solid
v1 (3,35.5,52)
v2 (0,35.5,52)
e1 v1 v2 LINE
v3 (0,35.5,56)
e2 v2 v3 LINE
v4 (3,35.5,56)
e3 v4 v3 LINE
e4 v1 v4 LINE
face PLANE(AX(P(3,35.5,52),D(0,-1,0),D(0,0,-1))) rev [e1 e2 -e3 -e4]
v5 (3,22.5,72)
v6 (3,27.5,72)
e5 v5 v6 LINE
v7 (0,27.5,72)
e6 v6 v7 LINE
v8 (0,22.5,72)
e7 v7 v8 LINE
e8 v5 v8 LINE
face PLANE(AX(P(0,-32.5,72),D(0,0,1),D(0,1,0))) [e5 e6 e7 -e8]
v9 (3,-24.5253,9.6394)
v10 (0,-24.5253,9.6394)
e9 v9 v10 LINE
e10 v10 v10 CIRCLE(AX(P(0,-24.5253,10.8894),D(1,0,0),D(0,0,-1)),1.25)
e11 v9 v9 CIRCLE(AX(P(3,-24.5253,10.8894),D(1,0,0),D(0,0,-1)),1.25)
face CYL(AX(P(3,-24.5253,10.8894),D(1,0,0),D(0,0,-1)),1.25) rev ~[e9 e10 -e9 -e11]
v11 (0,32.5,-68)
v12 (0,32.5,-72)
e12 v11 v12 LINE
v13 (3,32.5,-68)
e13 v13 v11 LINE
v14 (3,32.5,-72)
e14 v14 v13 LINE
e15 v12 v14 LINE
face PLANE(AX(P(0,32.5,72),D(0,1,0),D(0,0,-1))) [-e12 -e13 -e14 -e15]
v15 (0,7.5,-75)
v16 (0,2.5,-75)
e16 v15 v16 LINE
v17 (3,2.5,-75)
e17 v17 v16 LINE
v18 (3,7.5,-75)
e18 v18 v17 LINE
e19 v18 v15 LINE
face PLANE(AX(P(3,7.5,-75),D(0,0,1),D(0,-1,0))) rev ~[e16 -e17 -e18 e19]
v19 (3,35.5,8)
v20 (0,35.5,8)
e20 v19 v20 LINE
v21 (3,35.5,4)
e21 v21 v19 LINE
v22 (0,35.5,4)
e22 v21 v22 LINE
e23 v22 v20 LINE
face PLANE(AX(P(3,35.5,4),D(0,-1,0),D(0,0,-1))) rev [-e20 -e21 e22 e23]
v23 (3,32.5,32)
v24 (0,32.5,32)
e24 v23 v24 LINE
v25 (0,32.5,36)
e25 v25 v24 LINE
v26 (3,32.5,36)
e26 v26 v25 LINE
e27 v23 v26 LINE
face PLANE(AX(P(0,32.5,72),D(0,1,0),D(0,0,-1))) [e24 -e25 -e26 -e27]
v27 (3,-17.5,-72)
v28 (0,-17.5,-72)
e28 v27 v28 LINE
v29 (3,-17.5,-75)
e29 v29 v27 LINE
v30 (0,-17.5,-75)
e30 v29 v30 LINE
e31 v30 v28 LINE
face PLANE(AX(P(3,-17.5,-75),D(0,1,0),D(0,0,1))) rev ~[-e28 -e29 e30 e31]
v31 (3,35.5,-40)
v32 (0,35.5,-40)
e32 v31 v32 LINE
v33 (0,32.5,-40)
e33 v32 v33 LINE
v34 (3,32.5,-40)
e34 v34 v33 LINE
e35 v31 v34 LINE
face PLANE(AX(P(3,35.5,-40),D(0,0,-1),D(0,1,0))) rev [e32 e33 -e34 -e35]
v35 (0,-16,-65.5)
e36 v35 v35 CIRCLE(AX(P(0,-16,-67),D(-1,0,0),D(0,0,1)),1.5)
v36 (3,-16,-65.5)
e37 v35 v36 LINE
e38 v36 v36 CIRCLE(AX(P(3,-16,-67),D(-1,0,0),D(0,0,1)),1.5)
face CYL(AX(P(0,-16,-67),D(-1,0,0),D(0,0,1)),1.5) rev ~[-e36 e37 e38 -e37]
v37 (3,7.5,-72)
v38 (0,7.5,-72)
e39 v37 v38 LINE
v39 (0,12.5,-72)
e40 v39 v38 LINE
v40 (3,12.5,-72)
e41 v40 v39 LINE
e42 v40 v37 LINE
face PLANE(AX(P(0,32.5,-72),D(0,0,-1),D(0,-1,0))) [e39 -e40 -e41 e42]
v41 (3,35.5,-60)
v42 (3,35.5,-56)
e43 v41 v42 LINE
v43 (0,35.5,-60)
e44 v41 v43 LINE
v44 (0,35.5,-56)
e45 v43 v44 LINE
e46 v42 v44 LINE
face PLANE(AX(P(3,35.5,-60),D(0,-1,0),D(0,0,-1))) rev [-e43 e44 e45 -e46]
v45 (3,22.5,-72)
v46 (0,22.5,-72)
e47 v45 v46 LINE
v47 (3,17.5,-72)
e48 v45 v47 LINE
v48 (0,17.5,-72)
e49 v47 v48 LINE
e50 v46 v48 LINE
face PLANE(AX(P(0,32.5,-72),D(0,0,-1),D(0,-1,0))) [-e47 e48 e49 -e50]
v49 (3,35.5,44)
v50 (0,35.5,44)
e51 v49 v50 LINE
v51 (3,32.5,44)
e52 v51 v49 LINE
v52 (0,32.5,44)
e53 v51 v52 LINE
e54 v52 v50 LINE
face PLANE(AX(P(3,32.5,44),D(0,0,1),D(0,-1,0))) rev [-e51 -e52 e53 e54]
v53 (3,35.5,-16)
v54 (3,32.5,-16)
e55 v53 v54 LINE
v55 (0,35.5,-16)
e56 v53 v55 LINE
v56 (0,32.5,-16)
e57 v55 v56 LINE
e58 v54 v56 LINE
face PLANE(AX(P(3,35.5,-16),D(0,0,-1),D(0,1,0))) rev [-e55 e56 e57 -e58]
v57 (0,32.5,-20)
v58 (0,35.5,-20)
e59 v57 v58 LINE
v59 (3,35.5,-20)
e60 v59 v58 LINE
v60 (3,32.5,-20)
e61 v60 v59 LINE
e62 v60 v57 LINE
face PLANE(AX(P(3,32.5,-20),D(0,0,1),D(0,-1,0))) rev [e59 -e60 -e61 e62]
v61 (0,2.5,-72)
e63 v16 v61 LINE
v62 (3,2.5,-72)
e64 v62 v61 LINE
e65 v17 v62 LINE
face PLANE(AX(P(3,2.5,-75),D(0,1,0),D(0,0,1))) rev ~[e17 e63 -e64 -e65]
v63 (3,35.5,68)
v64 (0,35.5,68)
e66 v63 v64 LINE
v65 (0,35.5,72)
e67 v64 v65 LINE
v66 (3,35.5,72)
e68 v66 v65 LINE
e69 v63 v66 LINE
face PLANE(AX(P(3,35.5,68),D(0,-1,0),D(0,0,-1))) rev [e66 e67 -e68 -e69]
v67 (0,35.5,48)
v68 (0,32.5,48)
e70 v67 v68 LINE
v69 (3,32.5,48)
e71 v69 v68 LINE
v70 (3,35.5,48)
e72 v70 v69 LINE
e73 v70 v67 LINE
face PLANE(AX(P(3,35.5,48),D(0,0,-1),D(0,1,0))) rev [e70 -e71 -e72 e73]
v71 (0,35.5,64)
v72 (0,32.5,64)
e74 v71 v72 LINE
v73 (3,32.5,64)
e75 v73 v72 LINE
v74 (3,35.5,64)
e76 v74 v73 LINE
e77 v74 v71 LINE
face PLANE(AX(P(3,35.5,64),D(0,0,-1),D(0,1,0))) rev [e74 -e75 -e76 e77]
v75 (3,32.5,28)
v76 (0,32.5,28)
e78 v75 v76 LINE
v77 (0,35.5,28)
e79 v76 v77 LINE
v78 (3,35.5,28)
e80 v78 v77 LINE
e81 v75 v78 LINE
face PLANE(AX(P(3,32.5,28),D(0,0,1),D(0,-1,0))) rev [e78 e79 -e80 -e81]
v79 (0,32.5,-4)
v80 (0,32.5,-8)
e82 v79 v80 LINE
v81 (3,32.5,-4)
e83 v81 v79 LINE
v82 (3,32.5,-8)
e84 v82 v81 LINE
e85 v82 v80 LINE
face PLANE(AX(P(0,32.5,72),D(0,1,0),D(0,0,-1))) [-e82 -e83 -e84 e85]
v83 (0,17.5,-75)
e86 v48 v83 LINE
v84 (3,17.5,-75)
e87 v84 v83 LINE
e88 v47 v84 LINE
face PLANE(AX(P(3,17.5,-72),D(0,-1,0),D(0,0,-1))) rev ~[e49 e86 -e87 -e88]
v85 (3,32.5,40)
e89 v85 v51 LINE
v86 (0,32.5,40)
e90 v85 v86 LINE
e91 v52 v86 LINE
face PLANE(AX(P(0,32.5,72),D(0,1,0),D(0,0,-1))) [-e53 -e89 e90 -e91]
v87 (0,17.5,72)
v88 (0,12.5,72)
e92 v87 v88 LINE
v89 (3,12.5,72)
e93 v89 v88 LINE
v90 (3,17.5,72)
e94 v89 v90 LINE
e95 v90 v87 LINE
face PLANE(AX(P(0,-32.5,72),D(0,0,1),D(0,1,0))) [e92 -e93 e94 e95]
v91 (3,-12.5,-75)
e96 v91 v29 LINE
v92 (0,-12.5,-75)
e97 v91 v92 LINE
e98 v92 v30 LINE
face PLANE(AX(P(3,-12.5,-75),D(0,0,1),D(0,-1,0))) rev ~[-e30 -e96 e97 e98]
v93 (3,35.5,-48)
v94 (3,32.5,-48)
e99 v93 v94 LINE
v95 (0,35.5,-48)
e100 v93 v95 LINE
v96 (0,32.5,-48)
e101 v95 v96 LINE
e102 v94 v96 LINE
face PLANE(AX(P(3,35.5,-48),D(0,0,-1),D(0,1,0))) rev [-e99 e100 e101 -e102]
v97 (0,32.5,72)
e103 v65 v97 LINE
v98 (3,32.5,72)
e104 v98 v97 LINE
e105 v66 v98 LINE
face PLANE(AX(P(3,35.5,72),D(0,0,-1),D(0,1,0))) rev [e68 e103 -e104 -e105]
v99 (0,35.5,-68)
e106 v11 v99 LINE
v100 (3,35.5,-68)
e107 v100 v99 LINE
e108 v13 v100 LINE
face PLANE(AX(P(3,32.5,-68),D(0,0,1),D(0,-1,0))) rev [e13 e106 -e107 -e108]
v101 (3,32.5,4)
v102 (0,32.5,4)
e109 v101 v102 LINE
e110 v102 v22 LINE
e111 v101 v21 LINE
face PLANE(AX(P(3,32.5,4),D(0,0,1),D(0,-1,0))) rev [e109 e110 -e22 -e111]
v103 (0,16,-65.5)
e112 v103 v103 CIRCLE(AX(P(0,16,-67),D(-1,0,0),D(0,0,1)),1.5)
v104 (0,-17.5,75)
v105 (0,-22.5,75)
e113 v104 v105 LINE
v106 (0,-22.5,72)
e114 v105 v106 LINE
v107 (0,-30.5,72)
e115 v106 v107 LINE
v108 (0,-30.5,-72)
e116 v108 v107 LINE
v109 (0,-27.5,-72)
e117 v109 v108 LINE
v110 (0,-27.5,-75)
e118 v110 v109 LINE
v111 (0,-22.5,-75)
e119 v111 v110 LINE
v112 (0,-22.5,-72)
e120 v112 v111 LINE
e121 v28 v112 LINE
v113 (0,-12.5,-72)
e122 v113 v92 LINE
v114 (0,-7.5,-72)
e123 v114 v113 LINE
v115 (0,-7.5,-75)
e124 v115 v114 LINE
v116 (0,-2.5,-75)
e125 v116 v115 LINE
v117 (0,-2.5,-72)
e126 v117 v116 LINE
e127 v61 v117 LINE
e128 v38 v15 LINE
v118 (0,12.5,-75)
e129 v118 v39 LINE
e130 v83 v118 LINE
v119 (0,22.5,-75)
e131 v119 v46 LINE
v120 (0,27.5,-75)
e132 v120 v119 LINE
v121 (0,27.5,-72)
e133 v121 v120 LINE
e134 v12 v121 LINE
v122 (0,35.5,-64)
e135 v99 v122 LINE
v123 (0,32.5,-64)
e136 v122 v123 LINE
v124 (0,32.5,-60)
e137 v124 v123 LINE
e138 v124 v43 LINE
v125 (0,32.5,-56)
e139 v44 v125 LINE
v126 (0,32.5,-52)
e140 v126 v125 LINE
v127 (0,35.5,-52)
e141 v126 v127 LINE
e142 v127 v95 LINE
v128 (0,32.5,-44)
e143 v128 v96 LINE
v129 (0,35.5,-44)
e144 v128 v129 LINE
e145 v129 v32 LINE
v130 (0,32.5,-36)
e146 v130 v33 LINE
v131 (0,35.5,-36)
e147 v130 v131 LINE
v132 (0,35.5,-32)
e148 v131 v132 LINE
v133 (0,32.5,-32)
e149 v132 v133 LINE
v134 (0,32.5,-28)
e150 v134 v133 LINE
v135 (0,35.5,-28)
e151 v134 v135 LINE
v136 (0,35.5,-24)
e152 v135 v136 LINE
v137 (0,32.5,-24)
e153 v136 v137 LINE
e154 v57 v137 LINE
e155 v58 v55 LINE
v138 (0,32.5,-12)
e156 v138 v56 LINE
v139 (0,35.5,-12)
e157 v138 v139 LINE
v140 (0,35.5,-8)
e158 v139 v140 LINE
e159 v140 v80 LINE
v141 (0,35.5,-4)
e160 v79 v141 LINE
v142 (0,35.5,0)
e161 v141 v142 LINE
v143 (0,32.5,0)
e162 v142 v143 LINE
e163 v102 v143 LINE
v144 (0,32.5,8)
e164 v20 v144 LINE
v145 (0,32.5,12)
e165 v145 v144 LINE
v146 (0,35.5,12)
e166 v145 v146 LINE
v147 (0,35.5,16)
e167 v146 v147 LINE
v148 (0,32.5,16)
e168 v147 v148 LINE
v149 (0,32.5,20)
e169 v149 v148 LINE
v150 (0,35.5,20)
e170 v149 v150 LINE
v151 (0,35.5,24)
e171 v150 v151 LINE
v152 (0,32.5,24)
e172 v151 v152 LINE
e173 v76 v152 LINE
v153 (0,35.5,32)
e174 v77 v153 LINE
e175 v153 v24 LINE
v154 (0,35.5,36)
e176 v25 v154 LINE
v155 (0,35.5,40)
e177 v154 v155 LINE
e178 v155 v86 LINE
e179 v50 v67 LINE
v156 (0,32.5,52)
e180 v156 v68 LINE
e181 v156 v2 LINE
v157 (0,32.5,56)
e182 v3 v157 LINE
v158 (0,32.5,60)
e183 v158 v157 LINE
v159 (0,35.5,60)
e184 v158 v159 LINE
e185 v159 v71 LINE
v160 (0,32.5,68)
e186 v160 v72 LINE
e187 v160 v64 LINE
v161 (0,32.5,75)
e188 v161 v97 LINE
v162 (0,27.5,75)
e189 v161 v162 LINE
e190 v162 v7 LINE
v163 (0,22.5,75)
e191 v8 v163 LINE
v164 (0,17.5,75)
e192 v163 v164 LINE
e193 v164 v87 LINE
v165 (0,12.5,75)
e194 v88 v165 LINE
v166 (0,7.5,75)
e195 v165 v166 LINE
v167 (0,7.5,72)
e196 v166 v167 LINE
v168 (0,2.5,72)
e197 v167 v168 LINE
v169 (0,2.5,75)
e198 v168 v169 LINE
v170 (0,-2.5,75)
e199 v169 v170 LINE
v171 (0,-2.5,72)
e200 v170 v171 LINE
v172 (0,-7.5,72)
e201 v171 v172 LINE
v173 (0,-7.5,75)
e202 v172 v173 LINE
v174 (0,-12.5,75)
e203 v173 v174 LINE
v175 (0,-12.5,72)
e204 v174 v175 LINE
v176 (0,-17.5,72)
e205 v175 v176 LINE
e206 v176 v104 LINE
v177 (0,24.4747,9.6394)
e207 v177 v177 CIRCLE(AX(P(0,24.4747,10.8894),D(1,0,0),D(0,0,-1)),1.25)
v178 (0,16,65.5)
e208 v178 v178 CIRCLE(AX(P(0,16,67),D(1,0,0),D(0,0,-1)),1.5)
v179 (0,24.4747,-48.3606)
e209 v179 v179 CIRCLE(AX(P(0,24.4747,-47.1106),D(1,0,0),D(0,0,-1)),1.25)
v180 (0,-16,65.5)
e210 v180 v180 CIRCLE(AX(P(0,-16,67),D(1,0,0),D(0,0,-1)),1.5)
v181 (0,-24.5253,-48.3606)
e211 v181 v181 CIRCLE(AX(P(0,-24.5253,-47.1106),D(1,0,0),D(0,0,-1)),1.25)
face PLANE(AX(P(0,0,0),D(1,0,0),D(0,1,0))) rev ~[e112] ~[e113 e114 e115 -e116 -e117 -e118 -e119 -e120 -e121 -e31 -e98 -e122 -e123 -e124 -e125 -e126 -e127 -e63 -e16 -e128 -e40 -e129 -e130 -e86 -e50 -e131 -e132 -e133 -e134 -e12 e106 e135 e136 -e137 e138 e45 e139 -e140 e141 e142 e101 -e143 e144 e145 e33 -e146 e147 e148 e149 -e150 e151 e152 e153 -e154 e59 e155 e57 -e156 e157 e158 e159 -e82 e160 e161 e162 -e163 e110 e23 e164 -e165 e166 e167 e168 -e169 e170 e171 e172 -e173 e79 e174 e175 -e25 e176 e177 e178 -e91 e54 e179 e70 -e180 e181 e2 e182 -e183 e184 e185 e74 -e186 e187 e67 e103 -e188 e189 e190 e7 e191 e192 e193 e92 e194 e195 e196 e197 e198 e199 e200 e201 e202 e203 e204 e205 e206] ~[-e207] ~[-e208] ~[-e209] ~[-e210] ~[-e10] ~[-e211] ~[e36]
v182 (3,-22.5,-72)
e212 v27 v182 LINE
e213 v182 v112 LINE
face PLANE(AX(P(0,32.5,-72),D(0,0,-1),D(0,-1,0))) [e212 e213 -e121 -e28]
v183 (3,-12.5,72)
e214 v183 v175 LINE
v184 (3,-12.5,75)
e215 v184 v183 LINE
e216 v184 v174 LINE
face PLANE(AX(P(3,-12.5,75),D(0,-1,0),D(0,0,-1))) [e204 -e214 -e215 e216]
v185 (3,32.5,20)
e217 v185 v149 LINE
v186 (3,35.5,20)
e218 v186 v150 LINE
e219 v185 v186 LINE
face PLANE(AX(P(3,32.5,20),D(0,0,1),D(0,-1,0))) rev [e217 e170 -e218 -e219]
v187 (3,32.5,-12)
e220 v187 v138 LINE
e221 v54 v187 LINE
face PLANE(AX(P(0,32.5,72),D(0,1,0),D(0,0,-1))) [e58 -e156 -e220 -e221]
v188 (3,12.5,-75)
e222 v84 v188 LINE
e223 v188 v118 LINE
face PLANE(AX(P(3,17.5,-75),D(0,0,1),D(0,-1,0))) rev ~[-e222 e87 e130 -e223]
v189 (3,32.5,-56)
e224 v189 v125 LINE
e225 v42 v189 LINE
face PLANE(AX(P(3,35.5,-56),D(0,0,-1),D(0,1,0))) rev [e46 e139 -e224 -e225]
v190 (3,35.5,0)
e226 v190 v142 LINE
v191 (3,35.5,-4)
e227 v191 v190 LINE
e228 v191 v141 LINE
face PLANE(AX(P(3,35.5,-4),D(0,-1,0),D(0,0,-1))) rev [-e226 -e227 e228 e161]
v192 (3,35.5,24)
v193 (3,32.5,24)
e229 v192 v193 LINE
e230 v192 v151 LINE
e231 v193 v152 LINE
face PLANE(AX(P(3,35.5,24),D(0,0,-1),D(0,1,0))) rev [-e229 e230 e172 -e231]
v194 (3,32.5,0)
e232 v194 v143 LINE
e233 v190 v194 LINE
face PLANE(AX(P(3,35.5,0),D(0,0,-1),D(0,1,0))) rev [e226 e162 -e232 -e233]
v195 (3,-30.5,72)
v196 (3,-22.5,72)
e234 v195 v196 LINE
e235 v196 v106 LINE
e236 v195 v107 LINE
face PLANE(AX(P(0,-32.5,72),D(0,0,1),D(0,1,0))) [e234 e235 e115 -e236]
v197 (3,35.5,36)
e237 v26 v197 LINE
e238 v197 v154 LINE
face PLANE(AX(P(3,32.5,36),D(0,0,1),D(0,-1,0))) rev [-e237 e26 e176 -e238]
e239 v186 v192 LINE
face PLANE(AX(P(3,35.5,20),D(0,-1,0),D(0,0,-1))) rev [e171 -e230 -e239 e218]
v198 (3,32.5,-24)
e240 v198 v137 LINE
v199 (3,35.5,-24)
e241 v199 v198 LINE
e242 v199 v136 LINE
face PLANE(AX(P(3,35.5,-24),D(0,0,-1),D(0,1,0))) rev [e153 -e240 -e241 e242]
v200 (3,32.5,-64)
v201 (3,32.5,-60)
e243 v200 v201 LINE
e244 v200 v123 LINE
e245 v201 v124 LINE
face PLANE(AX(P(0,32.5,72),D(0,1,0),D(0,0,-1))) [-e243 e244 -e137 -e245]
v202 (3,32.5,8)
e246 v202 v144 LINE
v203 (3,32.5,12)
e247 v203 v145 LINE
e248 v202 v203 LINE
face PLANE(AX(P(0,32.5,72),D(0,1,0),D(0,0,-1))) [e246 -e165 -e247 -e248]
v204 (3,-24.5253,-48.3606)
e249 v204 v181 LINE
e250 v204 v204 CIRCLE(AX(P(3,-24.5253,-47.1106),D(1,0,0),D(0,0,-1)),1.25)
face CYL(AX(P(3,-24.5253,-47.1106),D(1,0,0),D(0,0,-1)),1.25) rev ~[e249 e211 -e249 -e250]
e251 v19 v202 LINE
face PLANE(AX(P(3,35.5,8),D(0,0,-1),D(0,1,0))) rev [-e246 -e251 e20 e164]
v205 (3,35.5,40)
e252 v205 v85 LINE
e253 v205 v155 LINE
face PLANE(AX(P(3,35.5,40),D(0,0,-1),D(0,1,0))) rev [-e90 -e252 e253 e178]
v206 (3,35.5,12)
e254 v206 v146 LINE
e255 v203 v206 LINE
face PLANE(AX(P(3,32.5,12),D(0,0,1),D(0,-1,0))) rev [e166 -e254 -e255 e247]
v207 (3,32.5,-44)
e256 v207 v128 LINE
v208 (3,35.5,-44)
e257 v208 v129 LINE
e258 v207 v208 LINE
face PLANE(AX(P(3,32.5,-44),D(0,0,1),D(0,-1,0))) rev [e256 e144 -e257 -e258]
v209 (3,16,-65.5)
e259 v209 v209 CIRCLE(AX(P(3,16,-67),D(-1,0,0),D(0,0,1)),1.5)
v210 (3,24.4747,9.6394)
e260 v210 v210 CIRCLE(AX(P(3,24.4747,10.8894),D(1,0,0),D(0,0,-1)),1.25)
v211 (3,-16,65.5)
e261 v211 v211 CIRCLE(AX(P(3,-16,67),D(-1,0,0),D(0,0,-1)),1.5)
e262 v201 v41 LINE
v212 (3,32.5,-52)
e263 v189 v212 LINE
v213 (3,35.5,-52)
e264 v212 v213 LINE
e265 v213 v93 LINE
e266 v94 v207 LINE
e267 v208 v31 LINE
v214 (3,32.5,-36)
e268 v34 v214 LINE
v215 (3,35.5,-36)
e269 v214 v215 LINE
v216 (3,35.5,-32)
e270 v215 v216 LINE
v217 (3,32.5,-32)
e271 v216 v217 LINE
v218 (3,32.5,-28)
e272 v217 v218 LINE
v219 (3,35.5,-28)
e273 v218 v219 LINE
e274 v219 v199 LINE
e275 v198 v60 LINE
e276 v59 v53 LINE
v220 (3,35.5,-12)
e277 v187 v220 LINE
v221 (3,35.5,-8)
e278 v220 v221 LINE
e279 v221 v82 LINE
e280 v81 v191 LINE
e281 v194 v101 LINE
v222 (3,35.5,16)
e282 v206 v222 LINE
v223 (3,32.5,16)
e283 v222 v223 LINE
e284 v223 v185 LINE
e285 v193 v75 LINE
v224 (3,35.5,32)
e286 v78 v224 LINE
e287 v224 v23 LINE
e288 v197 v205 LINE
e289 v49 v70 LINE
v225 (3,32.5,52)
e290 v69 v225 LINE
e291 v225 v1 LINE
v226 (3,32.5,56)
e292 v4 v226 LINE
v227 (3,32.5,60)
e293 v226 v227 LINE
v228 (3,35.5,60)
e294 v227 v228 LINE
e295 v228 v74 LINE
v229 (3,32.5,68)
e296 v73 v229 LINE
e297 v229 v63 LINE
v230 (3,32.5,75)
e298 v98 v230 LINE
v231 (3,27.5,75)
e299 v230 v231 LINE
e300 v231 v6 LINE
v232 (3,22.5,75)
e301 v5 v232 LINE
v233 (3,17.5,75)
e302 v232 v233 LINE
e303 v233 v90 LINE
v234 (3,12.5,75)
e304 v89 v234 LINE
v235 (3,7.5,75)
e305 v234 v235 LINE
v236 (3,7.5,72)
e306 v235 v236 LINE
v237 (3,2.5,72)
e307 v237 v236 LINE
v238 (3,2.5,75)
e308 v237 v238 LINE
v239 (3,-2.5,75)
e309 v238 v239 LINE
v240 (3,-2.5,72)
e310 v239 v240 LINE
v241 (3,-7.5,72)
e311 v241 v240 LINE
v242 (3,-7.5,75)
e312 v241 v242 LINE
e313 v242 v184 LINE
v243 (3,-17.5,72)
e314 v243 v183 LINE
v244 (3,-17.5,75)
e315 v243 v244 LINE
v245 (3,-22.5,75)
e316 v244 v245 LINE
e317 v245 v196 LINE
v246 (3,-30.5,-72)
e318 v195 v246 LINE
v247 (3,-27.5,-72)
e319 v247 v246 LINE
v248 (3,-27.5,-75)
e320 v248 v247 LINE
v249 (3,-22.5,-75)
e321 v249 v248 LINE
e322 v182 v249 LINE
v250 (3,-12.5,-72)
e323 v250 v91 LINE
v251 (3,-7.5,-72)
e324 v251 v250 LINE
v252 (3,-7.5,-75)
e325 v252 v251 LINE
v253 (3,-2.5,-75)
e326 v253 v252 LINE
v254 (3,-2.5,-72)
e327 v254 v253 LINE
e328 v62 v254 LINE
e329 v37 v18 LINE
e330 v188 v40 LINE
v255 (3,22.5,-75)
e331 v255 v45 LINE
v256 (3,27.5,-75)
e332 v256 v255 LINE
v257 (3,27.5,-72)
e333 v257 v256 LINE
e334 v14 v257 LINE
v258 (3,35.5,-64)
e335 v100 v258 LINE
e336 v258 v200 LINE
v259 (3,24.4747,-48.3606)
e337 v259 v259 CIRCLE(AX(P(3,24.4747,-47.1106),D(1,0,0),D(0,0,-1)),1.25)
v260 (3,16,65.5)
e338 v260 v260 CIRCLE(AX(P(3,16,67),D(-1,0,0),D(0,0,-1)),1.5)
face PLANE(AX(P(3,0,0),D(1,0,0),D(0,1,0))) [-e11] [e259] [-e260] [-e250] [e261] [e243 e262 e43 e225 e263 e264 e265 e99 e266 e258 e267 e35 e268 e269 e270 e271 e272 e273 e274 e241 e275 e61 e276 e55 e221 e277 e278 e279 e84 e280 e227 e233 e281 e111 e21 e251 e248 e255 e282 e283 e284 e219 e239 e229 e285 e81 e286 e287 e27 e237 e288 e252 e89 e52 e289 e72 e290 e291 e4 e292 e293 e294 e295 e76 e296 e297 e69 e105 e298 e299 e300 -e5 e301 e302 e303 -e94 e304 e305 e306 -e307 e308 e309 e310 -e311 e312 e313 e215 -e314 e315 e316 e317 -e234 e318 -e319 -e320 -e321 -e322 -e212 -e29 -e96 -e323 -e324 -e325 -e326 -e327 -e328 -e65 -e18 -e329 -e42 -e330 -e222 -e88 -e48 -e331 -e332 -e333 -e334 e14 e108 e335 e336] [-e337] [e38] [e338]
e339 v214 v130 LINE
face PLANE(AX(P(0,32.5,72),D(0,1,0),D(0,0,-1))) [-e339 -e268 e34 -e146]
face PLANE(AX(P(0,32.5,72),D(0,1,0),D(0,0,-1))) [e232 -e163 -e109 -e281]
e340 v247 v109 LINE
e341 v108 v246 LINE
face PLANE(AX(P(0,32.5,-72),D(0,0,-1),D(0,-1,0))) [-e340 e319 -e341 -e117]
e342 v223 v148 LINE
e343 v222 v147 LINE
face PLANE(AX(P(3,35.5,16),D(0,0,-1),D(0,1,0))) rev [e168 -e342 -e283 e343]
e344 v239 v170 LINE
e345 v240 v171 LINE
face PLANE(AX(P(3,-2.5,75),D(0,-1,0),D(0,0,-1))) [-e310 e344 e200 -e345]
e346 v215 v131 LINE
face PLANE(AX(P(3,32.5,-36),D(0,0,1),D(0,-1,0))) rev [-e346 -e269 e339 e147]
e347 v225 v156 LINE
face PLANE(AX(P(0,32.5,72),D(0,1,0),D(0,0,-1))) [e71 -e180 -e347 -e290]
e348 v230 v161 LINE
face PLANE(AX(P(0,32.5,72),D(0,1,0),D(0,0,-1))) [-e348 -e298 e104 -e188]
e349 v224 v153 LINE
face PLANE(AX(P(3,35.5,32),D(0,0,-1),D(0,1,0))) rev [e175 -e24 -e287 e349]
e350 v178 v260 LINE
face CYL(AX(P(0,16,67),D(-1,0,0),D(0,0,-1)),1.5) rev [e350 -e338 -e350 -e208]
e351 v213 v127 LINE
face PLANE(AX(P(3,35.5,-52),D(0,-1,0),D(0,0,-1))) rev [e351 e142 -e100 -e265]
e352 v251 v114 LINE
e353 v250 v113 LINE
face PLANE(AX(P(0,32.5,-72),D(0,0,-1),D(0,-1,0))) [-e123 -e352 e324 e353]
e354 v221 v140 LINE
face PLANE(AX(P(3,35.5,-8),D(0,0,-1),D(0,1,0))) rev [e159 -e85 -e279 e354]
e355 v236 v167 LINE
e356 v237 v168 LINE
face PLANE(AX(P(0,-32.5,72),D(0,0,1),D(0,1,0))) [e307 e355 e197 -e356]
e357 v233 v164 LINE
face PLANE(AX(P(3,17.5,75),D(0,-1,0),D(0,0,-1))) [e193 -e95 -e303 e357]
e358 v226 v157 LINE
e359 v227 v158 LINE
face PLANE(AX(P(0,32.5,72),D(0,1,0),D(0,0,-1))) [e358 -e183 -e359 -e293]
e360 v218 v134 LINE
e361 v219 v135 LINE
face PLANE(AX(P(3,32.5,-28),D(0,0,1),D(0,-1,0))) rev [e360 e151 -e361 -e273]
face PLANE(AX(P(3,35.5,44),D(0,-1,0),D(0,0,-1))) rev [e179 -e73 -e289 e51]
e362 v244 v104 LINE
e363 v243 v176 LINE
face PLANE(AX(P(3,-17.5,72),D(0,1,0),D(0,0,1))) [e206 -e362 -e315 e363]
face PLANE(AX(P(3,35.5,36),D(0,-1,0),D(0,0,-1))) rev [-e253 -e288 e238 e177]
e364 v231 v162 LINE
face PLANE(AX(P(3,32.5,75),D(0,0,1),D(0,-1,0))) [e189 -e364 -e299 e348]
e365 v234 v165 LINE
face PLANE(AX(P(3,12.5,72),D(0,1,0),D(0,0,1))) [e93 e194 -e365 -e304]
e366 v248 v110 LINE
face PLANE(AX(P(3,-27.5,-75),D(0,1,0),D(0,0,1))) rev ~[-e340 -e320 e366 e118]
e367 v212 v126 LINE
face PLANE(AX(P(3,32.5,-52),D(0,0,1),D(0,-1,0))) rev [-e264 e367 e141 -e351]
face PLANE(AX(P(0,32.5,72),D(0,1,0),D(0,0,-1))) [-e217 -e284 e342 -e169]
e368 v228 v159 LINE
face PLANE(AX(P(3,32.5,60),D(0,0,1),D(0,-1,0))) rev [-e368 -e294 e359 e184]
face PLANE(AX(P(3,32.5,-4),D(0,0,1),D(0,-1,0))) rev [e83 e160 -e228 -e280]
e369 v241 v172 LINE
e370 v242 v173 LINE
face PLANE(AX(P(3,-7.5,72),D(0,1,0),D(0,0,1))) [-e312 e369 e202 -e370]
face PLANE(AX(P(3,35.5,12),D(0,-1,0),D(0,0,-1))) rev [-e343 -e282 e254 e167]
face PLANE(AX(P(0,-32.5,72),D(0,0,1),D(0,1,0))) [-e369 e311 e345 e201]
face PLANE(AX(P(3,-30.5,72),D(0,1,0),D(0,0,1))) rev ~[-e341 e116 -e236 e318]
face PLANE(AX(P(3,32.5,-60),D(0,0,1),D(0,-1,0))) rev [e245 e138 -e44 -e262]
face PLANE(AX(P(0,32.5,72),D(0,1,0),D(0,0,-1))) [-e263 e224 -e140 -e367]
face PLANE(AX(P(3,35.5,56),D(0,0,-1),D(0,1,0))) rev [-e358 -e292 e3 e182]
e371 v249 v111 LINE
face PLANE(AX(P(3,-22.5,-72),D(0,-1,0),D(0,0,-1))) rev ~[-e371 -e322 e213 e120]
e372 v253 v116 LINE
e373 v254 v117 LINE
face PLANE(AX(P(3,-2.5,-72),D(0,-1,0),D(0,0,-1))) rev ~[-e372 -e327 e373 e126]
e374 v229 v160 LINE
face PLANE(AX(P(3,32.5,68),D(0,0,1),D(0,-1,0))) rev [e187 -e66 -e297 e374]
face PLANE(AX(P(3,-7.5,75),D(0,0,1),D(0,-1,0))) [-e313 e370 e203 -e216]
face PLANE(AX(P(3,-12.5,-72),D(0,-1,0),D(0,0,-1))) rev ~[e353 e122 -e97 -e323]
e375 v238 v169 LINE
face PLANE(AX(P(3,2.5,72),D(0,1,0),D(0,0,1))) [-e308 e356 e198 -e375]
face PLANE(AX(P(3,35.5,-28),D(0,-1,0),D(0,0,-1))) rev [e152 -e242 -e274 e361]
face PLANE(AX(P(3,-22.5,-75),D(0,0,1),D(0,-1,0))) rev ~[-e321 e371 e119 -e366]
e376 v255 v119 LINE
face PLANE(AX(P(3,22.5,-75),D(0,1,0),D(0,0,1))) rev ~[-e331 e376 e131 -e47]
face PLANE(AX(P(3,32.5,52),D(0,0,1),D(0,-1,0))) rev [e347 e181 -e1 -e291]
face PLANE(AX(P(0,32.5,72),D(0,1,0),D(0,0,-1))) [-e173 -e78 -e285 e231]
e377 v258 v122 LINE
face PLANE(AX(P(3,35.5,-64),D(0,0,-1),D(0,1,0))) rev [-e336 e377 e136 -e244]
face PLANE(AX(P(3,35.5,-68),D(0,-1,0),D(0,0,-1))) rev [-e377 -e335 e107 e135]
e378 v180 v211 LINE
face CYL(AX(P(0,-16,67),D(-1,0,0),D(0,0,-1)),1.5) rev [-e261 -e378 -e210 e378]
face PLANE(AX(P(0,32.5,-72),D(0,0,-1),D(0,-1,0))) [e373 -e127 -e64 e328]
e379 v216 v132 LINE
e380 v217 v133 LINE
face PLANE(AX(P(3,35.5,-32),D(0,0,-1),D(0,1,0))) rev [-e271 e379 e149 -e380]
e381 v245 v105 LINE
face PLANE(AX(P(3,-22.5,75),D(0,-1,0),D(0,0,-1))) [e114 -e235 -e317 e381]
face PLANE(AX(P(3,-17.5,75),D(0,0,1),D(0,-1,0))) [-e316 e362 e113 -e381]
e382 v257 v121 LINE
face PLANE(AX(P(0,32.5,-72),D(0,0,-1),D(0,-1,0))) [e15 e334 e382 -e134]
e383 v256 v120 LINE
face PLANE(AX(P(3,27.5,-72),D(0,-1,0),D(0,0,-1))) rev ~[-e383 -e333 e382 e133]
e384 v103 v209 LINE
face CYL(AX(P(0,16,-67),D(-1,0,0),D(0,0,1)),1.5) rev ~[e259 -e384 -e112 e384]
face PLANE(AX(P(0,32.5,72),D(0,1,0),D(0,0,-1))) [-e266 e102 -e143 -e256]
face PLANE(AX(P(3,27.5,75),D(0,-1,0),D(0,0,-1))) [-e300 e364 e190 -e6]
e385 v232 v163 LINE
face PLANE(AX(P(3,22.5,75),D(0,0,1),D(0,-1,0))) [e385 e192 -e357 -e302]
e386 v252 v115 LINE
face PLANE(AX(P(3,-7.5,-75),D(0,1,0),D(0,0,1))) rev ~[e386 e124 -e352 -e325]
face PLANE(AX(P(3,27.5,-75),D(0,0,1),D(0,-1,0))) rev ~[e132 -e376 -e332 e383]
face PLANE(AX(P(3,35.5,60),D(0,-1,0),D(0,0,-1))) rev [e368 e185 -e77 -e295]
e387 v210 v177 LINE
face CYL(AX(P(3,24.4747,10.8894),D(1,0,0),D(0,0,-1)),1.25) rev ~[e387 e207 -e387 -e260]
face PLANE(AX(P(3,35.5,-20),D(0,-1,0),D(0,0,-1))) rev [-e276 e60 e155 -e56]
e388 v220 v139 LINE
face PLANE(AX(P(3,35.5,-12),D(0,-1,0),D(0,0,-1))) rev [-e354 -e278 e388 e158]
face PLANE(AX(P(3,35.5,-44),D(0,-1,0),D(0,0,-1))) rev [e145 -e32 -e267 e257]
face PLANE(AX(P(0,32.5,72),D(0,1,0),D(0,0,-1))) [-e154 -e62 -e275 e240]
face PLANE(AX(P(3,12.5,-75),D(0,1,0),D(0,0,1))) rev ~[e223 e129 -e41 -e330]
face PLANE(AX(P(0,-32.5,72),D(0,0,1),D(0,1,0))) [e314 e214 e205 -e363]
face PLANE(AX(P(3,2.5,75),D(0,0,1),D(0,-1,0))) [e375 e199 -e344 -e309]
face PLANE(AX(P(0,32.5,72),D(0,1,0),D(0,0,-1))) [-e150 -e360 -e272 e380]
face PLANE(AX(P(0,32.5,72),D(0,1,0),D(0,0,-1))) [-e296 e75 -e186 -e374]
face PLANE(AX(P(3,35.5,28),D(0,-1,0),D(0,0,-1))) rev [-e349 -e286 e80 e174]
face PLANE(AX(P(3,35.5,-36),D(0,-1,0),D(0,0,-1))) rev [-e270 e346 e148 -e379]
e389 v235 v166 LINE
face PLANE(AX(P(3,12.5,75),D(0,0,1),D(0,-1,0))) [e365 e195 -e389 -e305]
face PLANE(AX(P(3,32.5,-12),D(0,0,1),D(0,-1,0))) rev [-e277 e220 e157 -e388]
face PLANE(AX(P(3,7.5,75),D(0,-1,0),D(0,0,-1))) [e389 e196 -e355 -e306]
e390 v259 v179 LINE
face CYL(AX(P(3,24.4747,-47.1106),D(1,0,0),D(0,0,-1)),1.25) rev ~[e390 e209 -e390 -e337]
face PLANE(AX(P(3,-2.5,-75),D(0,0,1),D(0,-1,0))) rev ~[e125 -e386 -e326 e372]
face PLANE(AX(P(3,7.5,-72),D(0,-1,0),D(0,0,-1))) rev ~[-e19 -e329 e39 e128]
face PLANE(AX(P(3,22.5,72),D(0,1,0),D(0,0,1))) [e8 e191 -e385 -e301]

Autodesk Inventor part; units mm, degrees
ref_plane "YZ Plane" through (0, 0, 0) normal (1, 0, 0) x (0, 1, 0)
ref_plane "XZ Plane" through (0, 0, 0) normal (0, 1, 0) x (-1, 0, 0)
ref_plane "XY Plane" through (0, 0, 0) normal (0, 0, 1) x (1, 0, 0)
sketch "Эскиз1" plane through (0, 0, 0) normal (1, 0, 0) x (0, 1, 0)
  line L0 (-32.5, 72) -> (32.5, 72)
  line L1 (32.5, 72) -> (32.5, -72)
  line L2 (32.5, -72) -> (-32.5, -72)
  line L3 (-32.5, -72) -> (-32.5, 72)
  line L4 (-32.5, 72) -> (32.5, -72) construction
  line L5 (32.5, 72) -> (-32.5, -72) construction
  point P0 (0, 0)
  dimension "d0" = 65
  dimension "d1" = 144
extrude "Выдавливание1" add sketch "Эскиз1" along normal blind 3
sketch "Эскиз2" plane through (3, 0, 0) normal (1, 0, 0) x (0, 0, -1)
  line L0 (-72, -32.5) -> (72, -32.5) projected
  line L1 (-72, -32.5) -> (-68, -32.5)
  line L2 (-68, -32.5) -> (-68, -35.5)
  line L3 (-68, -35.5) -> (-72, -35.5)
  line L4 (-72, -35.5) -> (-72, -32.5)
  point P0 (0, 0)
  dimension "d4" = 4
  dimension "d5" = 3
extrude "Выдавливание2" add sketch "Эскиз2" against normal blind 3
pattern_linear "Прямоуг.массив1" count 18 spacing 8 along (0, 0, -1) of "Выдавливание2"
sketch "Эскиз3" plane through (3, 0, 0) normal (1, 0, 0) x (0, 0, -1)
  line L0 (72, 32.5) -> (-72, 32.5) projected
  line L1 (-72, 32.5) -> (-75, 32.5)
  line L2 (-75, 32.5) -> (-75, 27.5)
  line L3 (-75, 27.5) -> (-72, 27.5)
  line L4 (-72, 27.5) -> (-72, 32.5)
  line L5 (72, -32.5) -> (72, 32.5) projected
  line L6 (72, 27.5) -> (75, 27.5)
  line L7 (75, 27.5) -> (75, 22.5)
  line L8 (75, 22.5) -> (72, 22.5)
  line L9 (72, 22.5) -> (72, 27.5)
  point P0 (0, 0)
  dimension "d11" = 3
  dimension "d12" = 5
  dimension "d13" = 3
  dimension "d14" = 5
  dimension "d15" = 5
extrude "Выдавливание3" add sketch "Эскиз3" against normal blind 3
pattern_linear "Прямоуг.массив2" count 6 spacing 10 along (0, -1, 0) of "Выдавливание3"
mirror "Зеркальное отражение1" about plane through (0, 0, 0) normal (0, 1, 0) of "Выдавливание2", "Прямоуг.массив1"
sketch "Эскиз4" plane through (0, 0, 0) normal (-1, 0, 0) x (0, 0, 1)
  line L0 (-24.49, 2.034) -> (-35.69, 2.034) projected
  line L1 (-24.49, 2.034) -> (-24.49, -7.766) projected
  line L2 (-35.69, 2.034) -> (-35.69, -7.766) projected
  line L3 (-35.69, -8.166) -> (-24.49, -8.166) projected
  line L4 (-35.69, -7.766) -> (-35.69, -8.166) projected
  line L5 (-24.49, -8.166) -> (-24.49, -7.766) projected
  line L6 (34.27, -8.7) -> (18.25, -8.7) projected
  line L7 (18.25, -8.7) -> (18.25, 6.6) projected
  line L8 (34.27, 6.6) -> (18.25, 6.6) projected
  line L9 (34.27, -8.7) -> (34.27, 6.6) projected
  line L10 (38.35, 6.5) -> (38.35, -8.7) projected
  line L11 (51.25, 6.5) -> (38.75, 6.5) projected
  line L12 (69.65, -8.7) -> (69.65, 6.5) projected
  line L13 (38.35, 6.5) -> (69.65, 6.5)
  line L14 (69.65, 6.5) -> (69.65, -8.7)
  line L15 (69.65, -8.7) -> (38.35, -8.7)
  line L16 (38.35, -8.7) -> (38.35, 6.5)
  point P0 (0, 0)
  dimension "d23" = 0
extrude "Выдавливание4" [suppressed]
sketch "Эскиз5" plane through (3, 35.5, -64) normal (0, 1, 0) x (1, 0, 0)
  line L0 (0, 4) -> (0, 8) projected
  line L1 (-3, -56) -> (-3, -60) projected
  line L2 (0, 4) -> (-3, 4)
  line L3 (-3, 4) -> (-3, -56)
  line L4 (-3, -56) -> (0, -56)
  line L5 (0, -56) -> (0, 4)
  point P0 (-3, -64)
extrude "Выдавливание5" [suppressed]
sketch "Эскиз7" plane through (3, 0, 0) normal (1, 0, 0) x (0, 0, -1)
  line L0 (-75, -17.5) -> (-75, -22.5) projected
  line L1 (-75, -22.5) -> (-75, -35.5)
  line L2 (-75, -35.5) -> (75, -35.5)
  line L3 (75, -35.5) -> (75, -30.5)
  line L4 (75, -30.5) -> (-75, -30.5)
  line L5 (-75, -30.5) -> (-75, -35.5)
  line L6 (-72, -22.5) -> (-72, -35.5) projected
  line L7 (-72, 27.5) -> (-72, 22.5) projected
  line L8 (-72, 22.5) -> (-75, 22.5) projected
  line L9 (-75, 22.5) -> (-75, 17.5) projected
  line L10 (-75, 17.5) -> (-72, 17.5) projected
  line L11 (-72, 17.5) -> (-72, 12.5) projected
  line L12 (-72, 12.5) -> (-75, 12.5) projected
  line L13 (-75, 12.5) -> (-75, 7.5) projected
  line L14 (-75, 7.5) -> (-72, 7.5) projected
  line L15 (-72, 7.5) -> (-72, 2.5) projected
  line L16 (-72, 2.5) -> (-75, 2.5) projected
  line L17 (-75, 2.5) -> (-75, -2.5) projected
  line L18 (-75, -2.5) -> (-72, -2.5) projected
  line L19 (-72, -2.5) -> (-72, -7.5) projected
  line L20 (-72, -7.5) -> (-75, -7.5) projected
  line L21 (-75, -7.5) -> (-75, -12.5) projected
  line L22 (-75, -12.5) -> (-72, -12.5) projected
  line L23 (-72, -12.5) -> (-72, -17.5) projected
  line L24 (-72, -17.5) -> (-75, -17.5) projected
  line L25 (-75, -17.5) -> (-75, -22.5) projected
  line L26 (-75, -22.5) -> (-72, -22.5) projected
  line L27 (-72, -22.5) -> (-72, -35.5) projected
  line L28 (-68, -35.5) -> (-72, -35.5) projected
  line L29 (-68, -32.5) -> (-68, -35.5) projected
  line L30 (-68, -32.5) -> (-64, -32.5) projected
  line L31 (-64, -35.5) -> (-64, -32.5) projected
  line L32 (-60, -35.5) -> (-64, -35.5) projected
  line L33 (-60, -32.5) -> (-60, -35.5) projected
  line L34 (-60, -32.5) -> (-56, -32.5) projected
  line L35 (-56, -35.5) -> (-56, -32.5) projected
  line L36 (-52, -35.5) -> (-56, -35.5) projected
  line L37 (-52, -32.5) -> (-52, -35.5) projected
  line L38 (-52, -32.5) -> (-48, -32.5) projected
  line L39 (-48, -35.5) -> (-48, -32.5) projected
  line L40 (-44, -35.5) -> (-48, -35.5) projected
  line L41 (-44, -32.5) -> (-44, -35.5) projected
  line L42 (-44, -32.5) -> (-40, -32.5) projected
  line L43 (-40, -35.5) -> (-40, -32.5) projected
  line L44 (-36, -35.5) -> (-40, -35.5) projected
  line L45 (-36, -32.5) -> (-36, -35.5) projected
  line L46 (-36, -32.5) -> (-32, -32.5) projected
  line L47 (-32, -35.5) -> (-32, -32.5) projected
  line L48 (-28, -35.5) -> (-32, -35.5) projected
  line L49 (-28, -32.5) -> (-28, -35.5) projected
  line L50 (-28, -32.5) -> (-24, -32.5) projected
  line L51 (-24, -35.5) -> (-24, -32.5) projected
  line L52 (-20, -35.5) -> (-24, -35.5) projected
  line L53 (-20, -32.5) -> (-20, -35.5) projected
  line L54 (-20, -32.5) -> (-16, -32.5) projected
  line L55 (-16, -35.5) -> (-16, -32.5) projected
  line L56 (-12, -35.5) -> (-16, -35.5) projected
  line L57 (-12, -32.5) -> (-12, -35.5) projected
  line L58 (-12, -32.5) -> (-8, -32.5) projected
  line L59 (-8, -35.5) -> (-8, -32.5) projected
  line L60 (-4, -35.5) -> (-8, -35.5) projected
  line L61 (-4, -32.5) -> (-4, -35.5) projected
  line L62 (-4, -32.5) -> (0, -32.5) projected
  line L63 (0, -35.5) -> (0, -32.5) projected
  line L64 (4, -35.5) -> (0, -35.5) projected
  line L65 (4, -32.5) -> (4, -35.5) projected
  line L66 (4, -32.5) -> (8, -32.5) projected
  line L67 (8, -35.5) -> (8, -32.5) projected
  line L68 (12, -35.5) -> (8, -35.5) projected
  line L69 (12, -32.5) -> (12, -35.5) projected
  line L70 (12, -32.5) -> (16, -32.5) projected
  line L71 (16, -35.5) -> (16, -32.5) projected
  line L72 (20, -35.5) -> (16, -35.5) projected
  line L73 (20, -32.5) -> (20, -35.5) projected
  line L74 (20, -32.5) -> (24, -32.5) projected
  line L75 (24, -35.5) -> (24, -32.5) projected
  line L76 (28, -35.5) -> (24, -35.5) projected
  line L77 (28, -32.5) -> (28, -35.5) projected
  line L78 (28, -32.5) -> (32, -32.5) projected
  line L79 (32, -35.5) -> (32, -32.5) projected
  line L80 (36, -35.5) -> (32, -35.5) projected
  line L81 (36, -32.5) -> (36, -35.5) projected
  line L82 (36, -32.5) -> (40, -32.5) projected
  line L83 (40, -35.5) -> (40, -32.5) projected
  line L84 (44, -35.5) -> (40, -35.5) projected
  line L85 (44, -32.5) -> (44, -35.5) projected
  line L86 (44, -32.5) -> (48, -32.5) projected
  line L87 (48, -35.5) -> (48, -32.5) projected
  line L88 (52, -35.5) -> (48, -35.5) projected
  line L89 (52, -32.5) -> (52, -35.5) projected
  line L90 (52, -32.5) -> (56, -32.5) projected
  line L91 (56, -35.5) -> (56, -32.5) projected
  line L92 (60, -35.5) -> (56, -35.5) projected
  line L93 (60, -32.5) -> (60, -35.5) projected
  line L94 (60, -32.5) -> (64, -32.5) projected
  line L95 (64, -35.5) -> (64, -32.5) projected
  line L96 (68, -35.5) -> (64, -35.5) projected
  line L97 (68, -32.5) -> (68, -35.5) projected
  line L98 (68, -32.5) -> (72, -32.5) projected
  line L99 (72, -32.5) -> (72, -27.5) projected
  line L100 (72, -27.5) -> (75, -27.5) projected
  line L101 (75, -27.5) -> (75, -22.5) projected
  line L102 (75, -22.5) -> (72, -22.5) projected
  line L103 (72, -22.5) -> (72, -17.5) projected
  line L104 (72, -17.5) -> (75, -17.5) projected
  line L105 (75, -17.5) -> (75, -12.5) projected
  line L106 (75, -12.5) -> (72, -12.5) projected
  line L107 (72, -12.5) -> (72, -7.5) projected
  line L108 (72, -7.5) -> (75, -7.5) projected
  line L109 (75, -7.5) -> (75, -2.5) projected
  line L110 (75, -2.5) -> (72, -2.5) projected
  line L111 (72, -2.5) -> (72, 2.5) projected
  line L112 (72, 2.5) -> (75, 2.5) projected
  line L113 (75, 2.5) -> (75, 7.5) projected
  line L114 (75, 7.5) -> (72, 7.5) projected
  line L115 (72, 7.5) -> (72, 12.5) projected
  line L116 (72, 12.5) -> (75, 12.5) projected
  line L117 (75, 12.5) -> (75, 17.5) projected
  line L118 (75, 17.5) -> (72, 17.5) projected
  line L119 (72, 17.5) -> (72, 22.5) projected
  line L120 (72, 22.5) -> (75, 22.5) projected
  line L121 (75, 22.5) -> (75, 27.5) projected
  line L122 (75, 27.5) -> (72, 27.5) projected
  line L123 (72, 27.5) -> (72, 32.5) projected
  line L124 (72, 32.5) -> (68, 32.5) projected
  line L125 (68, 32.5) -> (68, 35.5) projected
  line L126 (68, 35.5) -> (64, 35.5) projected
  line L127 (64, 35.5) -> (64, 32.5) projected
  line L128 (64, 32.5) -> (60, 32.5) projected
  line L129 (60, 32.5) -> (60, 35.5) projected
  line L130 (60, 35.5) -> (56, 35.5) projected
  line L131 (56, 35.5) -> (56, 32.5) projected
  line L132 (56, 32.5) -> (52, 32.5) projected
  line L133 (52, 32.5) -> (52, 35.5) projected
  line L134 (52, 35.5) -> (48, 35.5) projected
  line L135 (48, 35.5) -> (48, 32.5) projected
  line L136 (48, 32.5) -> (44, 32.5) projected
  line L137 (44, 32.5) -> (44, 35.5) projected
  line L138 (44, 35.5) -> (40, 35.5) projected
  line L139 (40, 35.5) -> (40, 32.5) projected
  line L140 (40, 32.5) -> (36, 32.5) projected
  line L141 (36, 32.5) -> (36, 35.5) projected
  line L142 (36, 35.5) -> (32, 35.5) projected
  line L143 (32, 35.5) -> (32, 32.5) projected
  line L144 (32, 32.5) -> (28, 32.5) projected
  line L145 (28, 32.5) -> (28, 35.5) projected
  line L146 (28, 35.5) -> (24, 35.5) projected
  line L147 (24, 35.5) -> (24, 32.5) projected
  line L148 (24, 32.5) -> (20, 32.5) projected
  line L149 (20, 32.5) -> (20, 35.5) projected
  line L150 (20, 35.5) -> (16, 35.5) projected
  line L151 (16, 35.5) -> (16, 32.5) projected
  line L152 (16, 32.5) -> (12, 32.5) projected
  line L153 (12, 32.5) -> (12, 35.5) projected
  line L154 (12, 35.5) -> (8, 35.5) projected
  line L155 (8, 35.5) -> (8, 32.5) projected
  line L156 (8, 32.5) -> (4, 32.5) projected
  line L157 (4, 32.5) -> (4, 35.5) projected
  line L158 (4, 35.5) -> (0, 35.5) projected
  line L159 (0, 35.5) -> (0, 32.5) projected
  line L160 (0, 32.5) -> (-4, 32.5) projected
  line L161 (-4, 32.5) -> (-4, 35.5) projected
  line L162 (-4, 35.5) -> (-8, 35.5) projected
  line L163 (-8, 35.5) -> (-8, 32.5) projected
  line L164 (-8, 32.5) -> (-12, 32.5) projected
  line L165 (-12, 32.5) -> (-12, 35.5) projected
  line L166 (-12, 35.5) -> (-16, 35.5) projected
  line L167 (-16, 35.5) -> (-16, 32.5) projected
  line L168 (-16, 32.5) -> (-20, 32.5) projected
  line L169 (-20, 32.5) -> (-20, 35.5) projected
  line L170 (-20, 35.5) -> (-24, 35.5) projected
  line L171 (-24, 35.5) -> (-24, 32.5) projected
  line L172 (-24, 32.5) -> (-28, 32.5) projected
  line L173 (-28, 32.5) -> (-28, 35.5) projected
  line L174 (-28, 35.5) -> (-32, 35.5) projected
  line L175 (-32, 35.5) -> (-32, 32.5) projected
  line L176 (-32, 32.5) -> (-36, 32.5) projected
  line L177 (-36, 32.5) -> (-36, 35.5) projected
  line L178 (-36, 35.5) -> (-40, 35.5) projected
  line L179 (-40, 35.5) -> (-40, 32.5) projected
  line L180 (-40, 32.5) -> (-44, 32.5) projected
  line L181 (-44, 32.5) -> (-44, 35.5) projected
  line L182 (-44, 35.5) -> (-48, 35.5) projected
  line L183 (-48, 35.5) -> (-48, 32.5) projected
  line L184 (-48, 32.5) -> (-52, 32.5) projected
  line L185 (-52, 32.5) -> (-52, 35.5) projected
  line L186 (-52, 35.5) -> (-56, 35.5) projected
  line L187 (-56, 35.5) -> (-56, 32.5) projected
  line L188 (-56, 32.5) -> (-60, 32.5) projected
  line L189 (-60, 32.5) -> (-60, 35.5) projected
  line L190 (-60, 35.5) -> (-64, 35.5) projected
  line L191 (-64, 35.5) -> (-64, 32.5) projected
  line L192 (-64, 32.5) -> (-68, 32.5) projected
  line L193 (-68, 32.5) -> (-68, 35.5) projected
  line L194 (-68, 35.5) -> (-72, 35.5) projected
  line L195 (-72, 35.5) -> (-72, 32.5) projected
  line L196 (-72, 32.5) -> (-75, 32.5) projected
  line L197 (-75, 32.5) -> (-75, 27.5) projected
  line L198 (-75, 27.5) -> (-72, 27.5) projected
  point P0 (0, 0)
  dimension "d31" = 5
extrude "Выдавливание7" cut sketch "Эскиз7" against normal blind 10 contours L4 L6 L2 L1 | L4 L99 L98 L97 L2 L95 L94 L93 L91 L90 L89 L87 L86 L85 L83 L82 L81 L79 L78 L77 L75 L74 L73 L71 L70 L69 L67 L66 L65 L63 L62 L61 L59 L58 L57 L55 L54 L53 L51 L50 L49 L47 L46 L45 L43 L42 L41 L39 L38 L37 L35 L34 L33 L31 L30 L29 L6 | L4 L3 L2 L97 L98 L99 | L29 L30 L31 L2 | L33 L34 L35 L2 | L2 L93 L94 L95 | L37 L38 L39 L2 | L2 L89 L90 L91 | L41 L42 L43 L2 | L2 L85 L86 L87 | L45 L46 L47 L2 | L2 L81 L82 L83 | L49 L50 L51 L2 | L2 L77 L78 L79 | L53 L54 L55 L2 | L2 L73 L74 L75 | L57 L58 L59 L2 | L2 L69 L70 L71 | L61 L62 L63 L2 | L2 L65 L66 L67
sketch "Эскиз9" plane through (0, 0, 0) normal (-1, 0, 0) x (0, 0, 1)
  circle A0 centre (-67, -16) radius 1.5
  circle A1 centre (-67, 16) radius 1.5
  line L0 (-62, 20) -> (-72, 20)
  line L1 (-72, 20) -> (-72, -20)
  line L2 (-72, -20) -> (-62, -20)
  line L3 (-62, -20) -> (-62, 20)
  line L4 (-72, 2.5) -> (-72, -2.5) projected
  line L5 (-72, 20) -> (-62, -20) construction
  line L6 (-72, -20) -> (-62, 20) construction
  point P0 (-67, 0)
  dimension "d45" = 5
  dimension "d46" = 4
  dimension "d47" = 5
  dimension "d48" = 5
  dimension "d49" = 4
  dimension "d50" = 5
  dimension "d51" = 5
extrude "Выдавливание9" cut sketch "Эскиз9" against normal blind 10 contours A0 | A1
mirror "Зеркальное отражение3" about plane through (0, 0, 0) normal (0, 0, 1) of "Выдавливание9"
sketch "Эскиз10" plane through (3, 0, 0) normal (1, 0, 0) x (0, 0, -1)
  line L0 (50.6106, 25.4747) -> (50.6106, -25.5253)
  arc A0 (50.6106, 25.4747) -> (48.1106, 27.9747) centre (48.1106, 25.4747) ccw
  line L1 (-31.8894, 27.9747) -> (48.1106, 27.9747)
  arc A1 (-31.8894, 27.9747) -> (-34.3894, 25.4747) centre (-31.8894, 25.4747) ccw
  line L2 (-34.3894, -25.5253) -> (-34.3894, 25.4747)
  arc A2 (-34.3894, -25.5253) -> (-31.8894, -28.0253) centre (-31.8894, -25.5253) ccw
  line L3 (48.1106, -28.0253) -> (-31.8894, -28.0253)
  arc A3 (48.1106, -28.0253) -> (50.6106, -25.5253) centre (48.1106, -25.5253) ccw
  circle A4 centre (47.1106, 24.4747) radius 1.25
  circle A5 centre (47.1106, -24.5253) radius 1.25
  circle A6 centre (-10.8894, -24.5253) radius 1.25
  circle A7 centre (-10.8894, 24.4747) radius 1.25
  point P0 (8.1106, -0.0253)
extrude "Выдавливание10" cut sketch "Эскиз10" against normal blind 10 contours A4 | A5 | A6 | A7
properties part number "000.202 - Боковая стенка пустая" material "Пластик АБС"
